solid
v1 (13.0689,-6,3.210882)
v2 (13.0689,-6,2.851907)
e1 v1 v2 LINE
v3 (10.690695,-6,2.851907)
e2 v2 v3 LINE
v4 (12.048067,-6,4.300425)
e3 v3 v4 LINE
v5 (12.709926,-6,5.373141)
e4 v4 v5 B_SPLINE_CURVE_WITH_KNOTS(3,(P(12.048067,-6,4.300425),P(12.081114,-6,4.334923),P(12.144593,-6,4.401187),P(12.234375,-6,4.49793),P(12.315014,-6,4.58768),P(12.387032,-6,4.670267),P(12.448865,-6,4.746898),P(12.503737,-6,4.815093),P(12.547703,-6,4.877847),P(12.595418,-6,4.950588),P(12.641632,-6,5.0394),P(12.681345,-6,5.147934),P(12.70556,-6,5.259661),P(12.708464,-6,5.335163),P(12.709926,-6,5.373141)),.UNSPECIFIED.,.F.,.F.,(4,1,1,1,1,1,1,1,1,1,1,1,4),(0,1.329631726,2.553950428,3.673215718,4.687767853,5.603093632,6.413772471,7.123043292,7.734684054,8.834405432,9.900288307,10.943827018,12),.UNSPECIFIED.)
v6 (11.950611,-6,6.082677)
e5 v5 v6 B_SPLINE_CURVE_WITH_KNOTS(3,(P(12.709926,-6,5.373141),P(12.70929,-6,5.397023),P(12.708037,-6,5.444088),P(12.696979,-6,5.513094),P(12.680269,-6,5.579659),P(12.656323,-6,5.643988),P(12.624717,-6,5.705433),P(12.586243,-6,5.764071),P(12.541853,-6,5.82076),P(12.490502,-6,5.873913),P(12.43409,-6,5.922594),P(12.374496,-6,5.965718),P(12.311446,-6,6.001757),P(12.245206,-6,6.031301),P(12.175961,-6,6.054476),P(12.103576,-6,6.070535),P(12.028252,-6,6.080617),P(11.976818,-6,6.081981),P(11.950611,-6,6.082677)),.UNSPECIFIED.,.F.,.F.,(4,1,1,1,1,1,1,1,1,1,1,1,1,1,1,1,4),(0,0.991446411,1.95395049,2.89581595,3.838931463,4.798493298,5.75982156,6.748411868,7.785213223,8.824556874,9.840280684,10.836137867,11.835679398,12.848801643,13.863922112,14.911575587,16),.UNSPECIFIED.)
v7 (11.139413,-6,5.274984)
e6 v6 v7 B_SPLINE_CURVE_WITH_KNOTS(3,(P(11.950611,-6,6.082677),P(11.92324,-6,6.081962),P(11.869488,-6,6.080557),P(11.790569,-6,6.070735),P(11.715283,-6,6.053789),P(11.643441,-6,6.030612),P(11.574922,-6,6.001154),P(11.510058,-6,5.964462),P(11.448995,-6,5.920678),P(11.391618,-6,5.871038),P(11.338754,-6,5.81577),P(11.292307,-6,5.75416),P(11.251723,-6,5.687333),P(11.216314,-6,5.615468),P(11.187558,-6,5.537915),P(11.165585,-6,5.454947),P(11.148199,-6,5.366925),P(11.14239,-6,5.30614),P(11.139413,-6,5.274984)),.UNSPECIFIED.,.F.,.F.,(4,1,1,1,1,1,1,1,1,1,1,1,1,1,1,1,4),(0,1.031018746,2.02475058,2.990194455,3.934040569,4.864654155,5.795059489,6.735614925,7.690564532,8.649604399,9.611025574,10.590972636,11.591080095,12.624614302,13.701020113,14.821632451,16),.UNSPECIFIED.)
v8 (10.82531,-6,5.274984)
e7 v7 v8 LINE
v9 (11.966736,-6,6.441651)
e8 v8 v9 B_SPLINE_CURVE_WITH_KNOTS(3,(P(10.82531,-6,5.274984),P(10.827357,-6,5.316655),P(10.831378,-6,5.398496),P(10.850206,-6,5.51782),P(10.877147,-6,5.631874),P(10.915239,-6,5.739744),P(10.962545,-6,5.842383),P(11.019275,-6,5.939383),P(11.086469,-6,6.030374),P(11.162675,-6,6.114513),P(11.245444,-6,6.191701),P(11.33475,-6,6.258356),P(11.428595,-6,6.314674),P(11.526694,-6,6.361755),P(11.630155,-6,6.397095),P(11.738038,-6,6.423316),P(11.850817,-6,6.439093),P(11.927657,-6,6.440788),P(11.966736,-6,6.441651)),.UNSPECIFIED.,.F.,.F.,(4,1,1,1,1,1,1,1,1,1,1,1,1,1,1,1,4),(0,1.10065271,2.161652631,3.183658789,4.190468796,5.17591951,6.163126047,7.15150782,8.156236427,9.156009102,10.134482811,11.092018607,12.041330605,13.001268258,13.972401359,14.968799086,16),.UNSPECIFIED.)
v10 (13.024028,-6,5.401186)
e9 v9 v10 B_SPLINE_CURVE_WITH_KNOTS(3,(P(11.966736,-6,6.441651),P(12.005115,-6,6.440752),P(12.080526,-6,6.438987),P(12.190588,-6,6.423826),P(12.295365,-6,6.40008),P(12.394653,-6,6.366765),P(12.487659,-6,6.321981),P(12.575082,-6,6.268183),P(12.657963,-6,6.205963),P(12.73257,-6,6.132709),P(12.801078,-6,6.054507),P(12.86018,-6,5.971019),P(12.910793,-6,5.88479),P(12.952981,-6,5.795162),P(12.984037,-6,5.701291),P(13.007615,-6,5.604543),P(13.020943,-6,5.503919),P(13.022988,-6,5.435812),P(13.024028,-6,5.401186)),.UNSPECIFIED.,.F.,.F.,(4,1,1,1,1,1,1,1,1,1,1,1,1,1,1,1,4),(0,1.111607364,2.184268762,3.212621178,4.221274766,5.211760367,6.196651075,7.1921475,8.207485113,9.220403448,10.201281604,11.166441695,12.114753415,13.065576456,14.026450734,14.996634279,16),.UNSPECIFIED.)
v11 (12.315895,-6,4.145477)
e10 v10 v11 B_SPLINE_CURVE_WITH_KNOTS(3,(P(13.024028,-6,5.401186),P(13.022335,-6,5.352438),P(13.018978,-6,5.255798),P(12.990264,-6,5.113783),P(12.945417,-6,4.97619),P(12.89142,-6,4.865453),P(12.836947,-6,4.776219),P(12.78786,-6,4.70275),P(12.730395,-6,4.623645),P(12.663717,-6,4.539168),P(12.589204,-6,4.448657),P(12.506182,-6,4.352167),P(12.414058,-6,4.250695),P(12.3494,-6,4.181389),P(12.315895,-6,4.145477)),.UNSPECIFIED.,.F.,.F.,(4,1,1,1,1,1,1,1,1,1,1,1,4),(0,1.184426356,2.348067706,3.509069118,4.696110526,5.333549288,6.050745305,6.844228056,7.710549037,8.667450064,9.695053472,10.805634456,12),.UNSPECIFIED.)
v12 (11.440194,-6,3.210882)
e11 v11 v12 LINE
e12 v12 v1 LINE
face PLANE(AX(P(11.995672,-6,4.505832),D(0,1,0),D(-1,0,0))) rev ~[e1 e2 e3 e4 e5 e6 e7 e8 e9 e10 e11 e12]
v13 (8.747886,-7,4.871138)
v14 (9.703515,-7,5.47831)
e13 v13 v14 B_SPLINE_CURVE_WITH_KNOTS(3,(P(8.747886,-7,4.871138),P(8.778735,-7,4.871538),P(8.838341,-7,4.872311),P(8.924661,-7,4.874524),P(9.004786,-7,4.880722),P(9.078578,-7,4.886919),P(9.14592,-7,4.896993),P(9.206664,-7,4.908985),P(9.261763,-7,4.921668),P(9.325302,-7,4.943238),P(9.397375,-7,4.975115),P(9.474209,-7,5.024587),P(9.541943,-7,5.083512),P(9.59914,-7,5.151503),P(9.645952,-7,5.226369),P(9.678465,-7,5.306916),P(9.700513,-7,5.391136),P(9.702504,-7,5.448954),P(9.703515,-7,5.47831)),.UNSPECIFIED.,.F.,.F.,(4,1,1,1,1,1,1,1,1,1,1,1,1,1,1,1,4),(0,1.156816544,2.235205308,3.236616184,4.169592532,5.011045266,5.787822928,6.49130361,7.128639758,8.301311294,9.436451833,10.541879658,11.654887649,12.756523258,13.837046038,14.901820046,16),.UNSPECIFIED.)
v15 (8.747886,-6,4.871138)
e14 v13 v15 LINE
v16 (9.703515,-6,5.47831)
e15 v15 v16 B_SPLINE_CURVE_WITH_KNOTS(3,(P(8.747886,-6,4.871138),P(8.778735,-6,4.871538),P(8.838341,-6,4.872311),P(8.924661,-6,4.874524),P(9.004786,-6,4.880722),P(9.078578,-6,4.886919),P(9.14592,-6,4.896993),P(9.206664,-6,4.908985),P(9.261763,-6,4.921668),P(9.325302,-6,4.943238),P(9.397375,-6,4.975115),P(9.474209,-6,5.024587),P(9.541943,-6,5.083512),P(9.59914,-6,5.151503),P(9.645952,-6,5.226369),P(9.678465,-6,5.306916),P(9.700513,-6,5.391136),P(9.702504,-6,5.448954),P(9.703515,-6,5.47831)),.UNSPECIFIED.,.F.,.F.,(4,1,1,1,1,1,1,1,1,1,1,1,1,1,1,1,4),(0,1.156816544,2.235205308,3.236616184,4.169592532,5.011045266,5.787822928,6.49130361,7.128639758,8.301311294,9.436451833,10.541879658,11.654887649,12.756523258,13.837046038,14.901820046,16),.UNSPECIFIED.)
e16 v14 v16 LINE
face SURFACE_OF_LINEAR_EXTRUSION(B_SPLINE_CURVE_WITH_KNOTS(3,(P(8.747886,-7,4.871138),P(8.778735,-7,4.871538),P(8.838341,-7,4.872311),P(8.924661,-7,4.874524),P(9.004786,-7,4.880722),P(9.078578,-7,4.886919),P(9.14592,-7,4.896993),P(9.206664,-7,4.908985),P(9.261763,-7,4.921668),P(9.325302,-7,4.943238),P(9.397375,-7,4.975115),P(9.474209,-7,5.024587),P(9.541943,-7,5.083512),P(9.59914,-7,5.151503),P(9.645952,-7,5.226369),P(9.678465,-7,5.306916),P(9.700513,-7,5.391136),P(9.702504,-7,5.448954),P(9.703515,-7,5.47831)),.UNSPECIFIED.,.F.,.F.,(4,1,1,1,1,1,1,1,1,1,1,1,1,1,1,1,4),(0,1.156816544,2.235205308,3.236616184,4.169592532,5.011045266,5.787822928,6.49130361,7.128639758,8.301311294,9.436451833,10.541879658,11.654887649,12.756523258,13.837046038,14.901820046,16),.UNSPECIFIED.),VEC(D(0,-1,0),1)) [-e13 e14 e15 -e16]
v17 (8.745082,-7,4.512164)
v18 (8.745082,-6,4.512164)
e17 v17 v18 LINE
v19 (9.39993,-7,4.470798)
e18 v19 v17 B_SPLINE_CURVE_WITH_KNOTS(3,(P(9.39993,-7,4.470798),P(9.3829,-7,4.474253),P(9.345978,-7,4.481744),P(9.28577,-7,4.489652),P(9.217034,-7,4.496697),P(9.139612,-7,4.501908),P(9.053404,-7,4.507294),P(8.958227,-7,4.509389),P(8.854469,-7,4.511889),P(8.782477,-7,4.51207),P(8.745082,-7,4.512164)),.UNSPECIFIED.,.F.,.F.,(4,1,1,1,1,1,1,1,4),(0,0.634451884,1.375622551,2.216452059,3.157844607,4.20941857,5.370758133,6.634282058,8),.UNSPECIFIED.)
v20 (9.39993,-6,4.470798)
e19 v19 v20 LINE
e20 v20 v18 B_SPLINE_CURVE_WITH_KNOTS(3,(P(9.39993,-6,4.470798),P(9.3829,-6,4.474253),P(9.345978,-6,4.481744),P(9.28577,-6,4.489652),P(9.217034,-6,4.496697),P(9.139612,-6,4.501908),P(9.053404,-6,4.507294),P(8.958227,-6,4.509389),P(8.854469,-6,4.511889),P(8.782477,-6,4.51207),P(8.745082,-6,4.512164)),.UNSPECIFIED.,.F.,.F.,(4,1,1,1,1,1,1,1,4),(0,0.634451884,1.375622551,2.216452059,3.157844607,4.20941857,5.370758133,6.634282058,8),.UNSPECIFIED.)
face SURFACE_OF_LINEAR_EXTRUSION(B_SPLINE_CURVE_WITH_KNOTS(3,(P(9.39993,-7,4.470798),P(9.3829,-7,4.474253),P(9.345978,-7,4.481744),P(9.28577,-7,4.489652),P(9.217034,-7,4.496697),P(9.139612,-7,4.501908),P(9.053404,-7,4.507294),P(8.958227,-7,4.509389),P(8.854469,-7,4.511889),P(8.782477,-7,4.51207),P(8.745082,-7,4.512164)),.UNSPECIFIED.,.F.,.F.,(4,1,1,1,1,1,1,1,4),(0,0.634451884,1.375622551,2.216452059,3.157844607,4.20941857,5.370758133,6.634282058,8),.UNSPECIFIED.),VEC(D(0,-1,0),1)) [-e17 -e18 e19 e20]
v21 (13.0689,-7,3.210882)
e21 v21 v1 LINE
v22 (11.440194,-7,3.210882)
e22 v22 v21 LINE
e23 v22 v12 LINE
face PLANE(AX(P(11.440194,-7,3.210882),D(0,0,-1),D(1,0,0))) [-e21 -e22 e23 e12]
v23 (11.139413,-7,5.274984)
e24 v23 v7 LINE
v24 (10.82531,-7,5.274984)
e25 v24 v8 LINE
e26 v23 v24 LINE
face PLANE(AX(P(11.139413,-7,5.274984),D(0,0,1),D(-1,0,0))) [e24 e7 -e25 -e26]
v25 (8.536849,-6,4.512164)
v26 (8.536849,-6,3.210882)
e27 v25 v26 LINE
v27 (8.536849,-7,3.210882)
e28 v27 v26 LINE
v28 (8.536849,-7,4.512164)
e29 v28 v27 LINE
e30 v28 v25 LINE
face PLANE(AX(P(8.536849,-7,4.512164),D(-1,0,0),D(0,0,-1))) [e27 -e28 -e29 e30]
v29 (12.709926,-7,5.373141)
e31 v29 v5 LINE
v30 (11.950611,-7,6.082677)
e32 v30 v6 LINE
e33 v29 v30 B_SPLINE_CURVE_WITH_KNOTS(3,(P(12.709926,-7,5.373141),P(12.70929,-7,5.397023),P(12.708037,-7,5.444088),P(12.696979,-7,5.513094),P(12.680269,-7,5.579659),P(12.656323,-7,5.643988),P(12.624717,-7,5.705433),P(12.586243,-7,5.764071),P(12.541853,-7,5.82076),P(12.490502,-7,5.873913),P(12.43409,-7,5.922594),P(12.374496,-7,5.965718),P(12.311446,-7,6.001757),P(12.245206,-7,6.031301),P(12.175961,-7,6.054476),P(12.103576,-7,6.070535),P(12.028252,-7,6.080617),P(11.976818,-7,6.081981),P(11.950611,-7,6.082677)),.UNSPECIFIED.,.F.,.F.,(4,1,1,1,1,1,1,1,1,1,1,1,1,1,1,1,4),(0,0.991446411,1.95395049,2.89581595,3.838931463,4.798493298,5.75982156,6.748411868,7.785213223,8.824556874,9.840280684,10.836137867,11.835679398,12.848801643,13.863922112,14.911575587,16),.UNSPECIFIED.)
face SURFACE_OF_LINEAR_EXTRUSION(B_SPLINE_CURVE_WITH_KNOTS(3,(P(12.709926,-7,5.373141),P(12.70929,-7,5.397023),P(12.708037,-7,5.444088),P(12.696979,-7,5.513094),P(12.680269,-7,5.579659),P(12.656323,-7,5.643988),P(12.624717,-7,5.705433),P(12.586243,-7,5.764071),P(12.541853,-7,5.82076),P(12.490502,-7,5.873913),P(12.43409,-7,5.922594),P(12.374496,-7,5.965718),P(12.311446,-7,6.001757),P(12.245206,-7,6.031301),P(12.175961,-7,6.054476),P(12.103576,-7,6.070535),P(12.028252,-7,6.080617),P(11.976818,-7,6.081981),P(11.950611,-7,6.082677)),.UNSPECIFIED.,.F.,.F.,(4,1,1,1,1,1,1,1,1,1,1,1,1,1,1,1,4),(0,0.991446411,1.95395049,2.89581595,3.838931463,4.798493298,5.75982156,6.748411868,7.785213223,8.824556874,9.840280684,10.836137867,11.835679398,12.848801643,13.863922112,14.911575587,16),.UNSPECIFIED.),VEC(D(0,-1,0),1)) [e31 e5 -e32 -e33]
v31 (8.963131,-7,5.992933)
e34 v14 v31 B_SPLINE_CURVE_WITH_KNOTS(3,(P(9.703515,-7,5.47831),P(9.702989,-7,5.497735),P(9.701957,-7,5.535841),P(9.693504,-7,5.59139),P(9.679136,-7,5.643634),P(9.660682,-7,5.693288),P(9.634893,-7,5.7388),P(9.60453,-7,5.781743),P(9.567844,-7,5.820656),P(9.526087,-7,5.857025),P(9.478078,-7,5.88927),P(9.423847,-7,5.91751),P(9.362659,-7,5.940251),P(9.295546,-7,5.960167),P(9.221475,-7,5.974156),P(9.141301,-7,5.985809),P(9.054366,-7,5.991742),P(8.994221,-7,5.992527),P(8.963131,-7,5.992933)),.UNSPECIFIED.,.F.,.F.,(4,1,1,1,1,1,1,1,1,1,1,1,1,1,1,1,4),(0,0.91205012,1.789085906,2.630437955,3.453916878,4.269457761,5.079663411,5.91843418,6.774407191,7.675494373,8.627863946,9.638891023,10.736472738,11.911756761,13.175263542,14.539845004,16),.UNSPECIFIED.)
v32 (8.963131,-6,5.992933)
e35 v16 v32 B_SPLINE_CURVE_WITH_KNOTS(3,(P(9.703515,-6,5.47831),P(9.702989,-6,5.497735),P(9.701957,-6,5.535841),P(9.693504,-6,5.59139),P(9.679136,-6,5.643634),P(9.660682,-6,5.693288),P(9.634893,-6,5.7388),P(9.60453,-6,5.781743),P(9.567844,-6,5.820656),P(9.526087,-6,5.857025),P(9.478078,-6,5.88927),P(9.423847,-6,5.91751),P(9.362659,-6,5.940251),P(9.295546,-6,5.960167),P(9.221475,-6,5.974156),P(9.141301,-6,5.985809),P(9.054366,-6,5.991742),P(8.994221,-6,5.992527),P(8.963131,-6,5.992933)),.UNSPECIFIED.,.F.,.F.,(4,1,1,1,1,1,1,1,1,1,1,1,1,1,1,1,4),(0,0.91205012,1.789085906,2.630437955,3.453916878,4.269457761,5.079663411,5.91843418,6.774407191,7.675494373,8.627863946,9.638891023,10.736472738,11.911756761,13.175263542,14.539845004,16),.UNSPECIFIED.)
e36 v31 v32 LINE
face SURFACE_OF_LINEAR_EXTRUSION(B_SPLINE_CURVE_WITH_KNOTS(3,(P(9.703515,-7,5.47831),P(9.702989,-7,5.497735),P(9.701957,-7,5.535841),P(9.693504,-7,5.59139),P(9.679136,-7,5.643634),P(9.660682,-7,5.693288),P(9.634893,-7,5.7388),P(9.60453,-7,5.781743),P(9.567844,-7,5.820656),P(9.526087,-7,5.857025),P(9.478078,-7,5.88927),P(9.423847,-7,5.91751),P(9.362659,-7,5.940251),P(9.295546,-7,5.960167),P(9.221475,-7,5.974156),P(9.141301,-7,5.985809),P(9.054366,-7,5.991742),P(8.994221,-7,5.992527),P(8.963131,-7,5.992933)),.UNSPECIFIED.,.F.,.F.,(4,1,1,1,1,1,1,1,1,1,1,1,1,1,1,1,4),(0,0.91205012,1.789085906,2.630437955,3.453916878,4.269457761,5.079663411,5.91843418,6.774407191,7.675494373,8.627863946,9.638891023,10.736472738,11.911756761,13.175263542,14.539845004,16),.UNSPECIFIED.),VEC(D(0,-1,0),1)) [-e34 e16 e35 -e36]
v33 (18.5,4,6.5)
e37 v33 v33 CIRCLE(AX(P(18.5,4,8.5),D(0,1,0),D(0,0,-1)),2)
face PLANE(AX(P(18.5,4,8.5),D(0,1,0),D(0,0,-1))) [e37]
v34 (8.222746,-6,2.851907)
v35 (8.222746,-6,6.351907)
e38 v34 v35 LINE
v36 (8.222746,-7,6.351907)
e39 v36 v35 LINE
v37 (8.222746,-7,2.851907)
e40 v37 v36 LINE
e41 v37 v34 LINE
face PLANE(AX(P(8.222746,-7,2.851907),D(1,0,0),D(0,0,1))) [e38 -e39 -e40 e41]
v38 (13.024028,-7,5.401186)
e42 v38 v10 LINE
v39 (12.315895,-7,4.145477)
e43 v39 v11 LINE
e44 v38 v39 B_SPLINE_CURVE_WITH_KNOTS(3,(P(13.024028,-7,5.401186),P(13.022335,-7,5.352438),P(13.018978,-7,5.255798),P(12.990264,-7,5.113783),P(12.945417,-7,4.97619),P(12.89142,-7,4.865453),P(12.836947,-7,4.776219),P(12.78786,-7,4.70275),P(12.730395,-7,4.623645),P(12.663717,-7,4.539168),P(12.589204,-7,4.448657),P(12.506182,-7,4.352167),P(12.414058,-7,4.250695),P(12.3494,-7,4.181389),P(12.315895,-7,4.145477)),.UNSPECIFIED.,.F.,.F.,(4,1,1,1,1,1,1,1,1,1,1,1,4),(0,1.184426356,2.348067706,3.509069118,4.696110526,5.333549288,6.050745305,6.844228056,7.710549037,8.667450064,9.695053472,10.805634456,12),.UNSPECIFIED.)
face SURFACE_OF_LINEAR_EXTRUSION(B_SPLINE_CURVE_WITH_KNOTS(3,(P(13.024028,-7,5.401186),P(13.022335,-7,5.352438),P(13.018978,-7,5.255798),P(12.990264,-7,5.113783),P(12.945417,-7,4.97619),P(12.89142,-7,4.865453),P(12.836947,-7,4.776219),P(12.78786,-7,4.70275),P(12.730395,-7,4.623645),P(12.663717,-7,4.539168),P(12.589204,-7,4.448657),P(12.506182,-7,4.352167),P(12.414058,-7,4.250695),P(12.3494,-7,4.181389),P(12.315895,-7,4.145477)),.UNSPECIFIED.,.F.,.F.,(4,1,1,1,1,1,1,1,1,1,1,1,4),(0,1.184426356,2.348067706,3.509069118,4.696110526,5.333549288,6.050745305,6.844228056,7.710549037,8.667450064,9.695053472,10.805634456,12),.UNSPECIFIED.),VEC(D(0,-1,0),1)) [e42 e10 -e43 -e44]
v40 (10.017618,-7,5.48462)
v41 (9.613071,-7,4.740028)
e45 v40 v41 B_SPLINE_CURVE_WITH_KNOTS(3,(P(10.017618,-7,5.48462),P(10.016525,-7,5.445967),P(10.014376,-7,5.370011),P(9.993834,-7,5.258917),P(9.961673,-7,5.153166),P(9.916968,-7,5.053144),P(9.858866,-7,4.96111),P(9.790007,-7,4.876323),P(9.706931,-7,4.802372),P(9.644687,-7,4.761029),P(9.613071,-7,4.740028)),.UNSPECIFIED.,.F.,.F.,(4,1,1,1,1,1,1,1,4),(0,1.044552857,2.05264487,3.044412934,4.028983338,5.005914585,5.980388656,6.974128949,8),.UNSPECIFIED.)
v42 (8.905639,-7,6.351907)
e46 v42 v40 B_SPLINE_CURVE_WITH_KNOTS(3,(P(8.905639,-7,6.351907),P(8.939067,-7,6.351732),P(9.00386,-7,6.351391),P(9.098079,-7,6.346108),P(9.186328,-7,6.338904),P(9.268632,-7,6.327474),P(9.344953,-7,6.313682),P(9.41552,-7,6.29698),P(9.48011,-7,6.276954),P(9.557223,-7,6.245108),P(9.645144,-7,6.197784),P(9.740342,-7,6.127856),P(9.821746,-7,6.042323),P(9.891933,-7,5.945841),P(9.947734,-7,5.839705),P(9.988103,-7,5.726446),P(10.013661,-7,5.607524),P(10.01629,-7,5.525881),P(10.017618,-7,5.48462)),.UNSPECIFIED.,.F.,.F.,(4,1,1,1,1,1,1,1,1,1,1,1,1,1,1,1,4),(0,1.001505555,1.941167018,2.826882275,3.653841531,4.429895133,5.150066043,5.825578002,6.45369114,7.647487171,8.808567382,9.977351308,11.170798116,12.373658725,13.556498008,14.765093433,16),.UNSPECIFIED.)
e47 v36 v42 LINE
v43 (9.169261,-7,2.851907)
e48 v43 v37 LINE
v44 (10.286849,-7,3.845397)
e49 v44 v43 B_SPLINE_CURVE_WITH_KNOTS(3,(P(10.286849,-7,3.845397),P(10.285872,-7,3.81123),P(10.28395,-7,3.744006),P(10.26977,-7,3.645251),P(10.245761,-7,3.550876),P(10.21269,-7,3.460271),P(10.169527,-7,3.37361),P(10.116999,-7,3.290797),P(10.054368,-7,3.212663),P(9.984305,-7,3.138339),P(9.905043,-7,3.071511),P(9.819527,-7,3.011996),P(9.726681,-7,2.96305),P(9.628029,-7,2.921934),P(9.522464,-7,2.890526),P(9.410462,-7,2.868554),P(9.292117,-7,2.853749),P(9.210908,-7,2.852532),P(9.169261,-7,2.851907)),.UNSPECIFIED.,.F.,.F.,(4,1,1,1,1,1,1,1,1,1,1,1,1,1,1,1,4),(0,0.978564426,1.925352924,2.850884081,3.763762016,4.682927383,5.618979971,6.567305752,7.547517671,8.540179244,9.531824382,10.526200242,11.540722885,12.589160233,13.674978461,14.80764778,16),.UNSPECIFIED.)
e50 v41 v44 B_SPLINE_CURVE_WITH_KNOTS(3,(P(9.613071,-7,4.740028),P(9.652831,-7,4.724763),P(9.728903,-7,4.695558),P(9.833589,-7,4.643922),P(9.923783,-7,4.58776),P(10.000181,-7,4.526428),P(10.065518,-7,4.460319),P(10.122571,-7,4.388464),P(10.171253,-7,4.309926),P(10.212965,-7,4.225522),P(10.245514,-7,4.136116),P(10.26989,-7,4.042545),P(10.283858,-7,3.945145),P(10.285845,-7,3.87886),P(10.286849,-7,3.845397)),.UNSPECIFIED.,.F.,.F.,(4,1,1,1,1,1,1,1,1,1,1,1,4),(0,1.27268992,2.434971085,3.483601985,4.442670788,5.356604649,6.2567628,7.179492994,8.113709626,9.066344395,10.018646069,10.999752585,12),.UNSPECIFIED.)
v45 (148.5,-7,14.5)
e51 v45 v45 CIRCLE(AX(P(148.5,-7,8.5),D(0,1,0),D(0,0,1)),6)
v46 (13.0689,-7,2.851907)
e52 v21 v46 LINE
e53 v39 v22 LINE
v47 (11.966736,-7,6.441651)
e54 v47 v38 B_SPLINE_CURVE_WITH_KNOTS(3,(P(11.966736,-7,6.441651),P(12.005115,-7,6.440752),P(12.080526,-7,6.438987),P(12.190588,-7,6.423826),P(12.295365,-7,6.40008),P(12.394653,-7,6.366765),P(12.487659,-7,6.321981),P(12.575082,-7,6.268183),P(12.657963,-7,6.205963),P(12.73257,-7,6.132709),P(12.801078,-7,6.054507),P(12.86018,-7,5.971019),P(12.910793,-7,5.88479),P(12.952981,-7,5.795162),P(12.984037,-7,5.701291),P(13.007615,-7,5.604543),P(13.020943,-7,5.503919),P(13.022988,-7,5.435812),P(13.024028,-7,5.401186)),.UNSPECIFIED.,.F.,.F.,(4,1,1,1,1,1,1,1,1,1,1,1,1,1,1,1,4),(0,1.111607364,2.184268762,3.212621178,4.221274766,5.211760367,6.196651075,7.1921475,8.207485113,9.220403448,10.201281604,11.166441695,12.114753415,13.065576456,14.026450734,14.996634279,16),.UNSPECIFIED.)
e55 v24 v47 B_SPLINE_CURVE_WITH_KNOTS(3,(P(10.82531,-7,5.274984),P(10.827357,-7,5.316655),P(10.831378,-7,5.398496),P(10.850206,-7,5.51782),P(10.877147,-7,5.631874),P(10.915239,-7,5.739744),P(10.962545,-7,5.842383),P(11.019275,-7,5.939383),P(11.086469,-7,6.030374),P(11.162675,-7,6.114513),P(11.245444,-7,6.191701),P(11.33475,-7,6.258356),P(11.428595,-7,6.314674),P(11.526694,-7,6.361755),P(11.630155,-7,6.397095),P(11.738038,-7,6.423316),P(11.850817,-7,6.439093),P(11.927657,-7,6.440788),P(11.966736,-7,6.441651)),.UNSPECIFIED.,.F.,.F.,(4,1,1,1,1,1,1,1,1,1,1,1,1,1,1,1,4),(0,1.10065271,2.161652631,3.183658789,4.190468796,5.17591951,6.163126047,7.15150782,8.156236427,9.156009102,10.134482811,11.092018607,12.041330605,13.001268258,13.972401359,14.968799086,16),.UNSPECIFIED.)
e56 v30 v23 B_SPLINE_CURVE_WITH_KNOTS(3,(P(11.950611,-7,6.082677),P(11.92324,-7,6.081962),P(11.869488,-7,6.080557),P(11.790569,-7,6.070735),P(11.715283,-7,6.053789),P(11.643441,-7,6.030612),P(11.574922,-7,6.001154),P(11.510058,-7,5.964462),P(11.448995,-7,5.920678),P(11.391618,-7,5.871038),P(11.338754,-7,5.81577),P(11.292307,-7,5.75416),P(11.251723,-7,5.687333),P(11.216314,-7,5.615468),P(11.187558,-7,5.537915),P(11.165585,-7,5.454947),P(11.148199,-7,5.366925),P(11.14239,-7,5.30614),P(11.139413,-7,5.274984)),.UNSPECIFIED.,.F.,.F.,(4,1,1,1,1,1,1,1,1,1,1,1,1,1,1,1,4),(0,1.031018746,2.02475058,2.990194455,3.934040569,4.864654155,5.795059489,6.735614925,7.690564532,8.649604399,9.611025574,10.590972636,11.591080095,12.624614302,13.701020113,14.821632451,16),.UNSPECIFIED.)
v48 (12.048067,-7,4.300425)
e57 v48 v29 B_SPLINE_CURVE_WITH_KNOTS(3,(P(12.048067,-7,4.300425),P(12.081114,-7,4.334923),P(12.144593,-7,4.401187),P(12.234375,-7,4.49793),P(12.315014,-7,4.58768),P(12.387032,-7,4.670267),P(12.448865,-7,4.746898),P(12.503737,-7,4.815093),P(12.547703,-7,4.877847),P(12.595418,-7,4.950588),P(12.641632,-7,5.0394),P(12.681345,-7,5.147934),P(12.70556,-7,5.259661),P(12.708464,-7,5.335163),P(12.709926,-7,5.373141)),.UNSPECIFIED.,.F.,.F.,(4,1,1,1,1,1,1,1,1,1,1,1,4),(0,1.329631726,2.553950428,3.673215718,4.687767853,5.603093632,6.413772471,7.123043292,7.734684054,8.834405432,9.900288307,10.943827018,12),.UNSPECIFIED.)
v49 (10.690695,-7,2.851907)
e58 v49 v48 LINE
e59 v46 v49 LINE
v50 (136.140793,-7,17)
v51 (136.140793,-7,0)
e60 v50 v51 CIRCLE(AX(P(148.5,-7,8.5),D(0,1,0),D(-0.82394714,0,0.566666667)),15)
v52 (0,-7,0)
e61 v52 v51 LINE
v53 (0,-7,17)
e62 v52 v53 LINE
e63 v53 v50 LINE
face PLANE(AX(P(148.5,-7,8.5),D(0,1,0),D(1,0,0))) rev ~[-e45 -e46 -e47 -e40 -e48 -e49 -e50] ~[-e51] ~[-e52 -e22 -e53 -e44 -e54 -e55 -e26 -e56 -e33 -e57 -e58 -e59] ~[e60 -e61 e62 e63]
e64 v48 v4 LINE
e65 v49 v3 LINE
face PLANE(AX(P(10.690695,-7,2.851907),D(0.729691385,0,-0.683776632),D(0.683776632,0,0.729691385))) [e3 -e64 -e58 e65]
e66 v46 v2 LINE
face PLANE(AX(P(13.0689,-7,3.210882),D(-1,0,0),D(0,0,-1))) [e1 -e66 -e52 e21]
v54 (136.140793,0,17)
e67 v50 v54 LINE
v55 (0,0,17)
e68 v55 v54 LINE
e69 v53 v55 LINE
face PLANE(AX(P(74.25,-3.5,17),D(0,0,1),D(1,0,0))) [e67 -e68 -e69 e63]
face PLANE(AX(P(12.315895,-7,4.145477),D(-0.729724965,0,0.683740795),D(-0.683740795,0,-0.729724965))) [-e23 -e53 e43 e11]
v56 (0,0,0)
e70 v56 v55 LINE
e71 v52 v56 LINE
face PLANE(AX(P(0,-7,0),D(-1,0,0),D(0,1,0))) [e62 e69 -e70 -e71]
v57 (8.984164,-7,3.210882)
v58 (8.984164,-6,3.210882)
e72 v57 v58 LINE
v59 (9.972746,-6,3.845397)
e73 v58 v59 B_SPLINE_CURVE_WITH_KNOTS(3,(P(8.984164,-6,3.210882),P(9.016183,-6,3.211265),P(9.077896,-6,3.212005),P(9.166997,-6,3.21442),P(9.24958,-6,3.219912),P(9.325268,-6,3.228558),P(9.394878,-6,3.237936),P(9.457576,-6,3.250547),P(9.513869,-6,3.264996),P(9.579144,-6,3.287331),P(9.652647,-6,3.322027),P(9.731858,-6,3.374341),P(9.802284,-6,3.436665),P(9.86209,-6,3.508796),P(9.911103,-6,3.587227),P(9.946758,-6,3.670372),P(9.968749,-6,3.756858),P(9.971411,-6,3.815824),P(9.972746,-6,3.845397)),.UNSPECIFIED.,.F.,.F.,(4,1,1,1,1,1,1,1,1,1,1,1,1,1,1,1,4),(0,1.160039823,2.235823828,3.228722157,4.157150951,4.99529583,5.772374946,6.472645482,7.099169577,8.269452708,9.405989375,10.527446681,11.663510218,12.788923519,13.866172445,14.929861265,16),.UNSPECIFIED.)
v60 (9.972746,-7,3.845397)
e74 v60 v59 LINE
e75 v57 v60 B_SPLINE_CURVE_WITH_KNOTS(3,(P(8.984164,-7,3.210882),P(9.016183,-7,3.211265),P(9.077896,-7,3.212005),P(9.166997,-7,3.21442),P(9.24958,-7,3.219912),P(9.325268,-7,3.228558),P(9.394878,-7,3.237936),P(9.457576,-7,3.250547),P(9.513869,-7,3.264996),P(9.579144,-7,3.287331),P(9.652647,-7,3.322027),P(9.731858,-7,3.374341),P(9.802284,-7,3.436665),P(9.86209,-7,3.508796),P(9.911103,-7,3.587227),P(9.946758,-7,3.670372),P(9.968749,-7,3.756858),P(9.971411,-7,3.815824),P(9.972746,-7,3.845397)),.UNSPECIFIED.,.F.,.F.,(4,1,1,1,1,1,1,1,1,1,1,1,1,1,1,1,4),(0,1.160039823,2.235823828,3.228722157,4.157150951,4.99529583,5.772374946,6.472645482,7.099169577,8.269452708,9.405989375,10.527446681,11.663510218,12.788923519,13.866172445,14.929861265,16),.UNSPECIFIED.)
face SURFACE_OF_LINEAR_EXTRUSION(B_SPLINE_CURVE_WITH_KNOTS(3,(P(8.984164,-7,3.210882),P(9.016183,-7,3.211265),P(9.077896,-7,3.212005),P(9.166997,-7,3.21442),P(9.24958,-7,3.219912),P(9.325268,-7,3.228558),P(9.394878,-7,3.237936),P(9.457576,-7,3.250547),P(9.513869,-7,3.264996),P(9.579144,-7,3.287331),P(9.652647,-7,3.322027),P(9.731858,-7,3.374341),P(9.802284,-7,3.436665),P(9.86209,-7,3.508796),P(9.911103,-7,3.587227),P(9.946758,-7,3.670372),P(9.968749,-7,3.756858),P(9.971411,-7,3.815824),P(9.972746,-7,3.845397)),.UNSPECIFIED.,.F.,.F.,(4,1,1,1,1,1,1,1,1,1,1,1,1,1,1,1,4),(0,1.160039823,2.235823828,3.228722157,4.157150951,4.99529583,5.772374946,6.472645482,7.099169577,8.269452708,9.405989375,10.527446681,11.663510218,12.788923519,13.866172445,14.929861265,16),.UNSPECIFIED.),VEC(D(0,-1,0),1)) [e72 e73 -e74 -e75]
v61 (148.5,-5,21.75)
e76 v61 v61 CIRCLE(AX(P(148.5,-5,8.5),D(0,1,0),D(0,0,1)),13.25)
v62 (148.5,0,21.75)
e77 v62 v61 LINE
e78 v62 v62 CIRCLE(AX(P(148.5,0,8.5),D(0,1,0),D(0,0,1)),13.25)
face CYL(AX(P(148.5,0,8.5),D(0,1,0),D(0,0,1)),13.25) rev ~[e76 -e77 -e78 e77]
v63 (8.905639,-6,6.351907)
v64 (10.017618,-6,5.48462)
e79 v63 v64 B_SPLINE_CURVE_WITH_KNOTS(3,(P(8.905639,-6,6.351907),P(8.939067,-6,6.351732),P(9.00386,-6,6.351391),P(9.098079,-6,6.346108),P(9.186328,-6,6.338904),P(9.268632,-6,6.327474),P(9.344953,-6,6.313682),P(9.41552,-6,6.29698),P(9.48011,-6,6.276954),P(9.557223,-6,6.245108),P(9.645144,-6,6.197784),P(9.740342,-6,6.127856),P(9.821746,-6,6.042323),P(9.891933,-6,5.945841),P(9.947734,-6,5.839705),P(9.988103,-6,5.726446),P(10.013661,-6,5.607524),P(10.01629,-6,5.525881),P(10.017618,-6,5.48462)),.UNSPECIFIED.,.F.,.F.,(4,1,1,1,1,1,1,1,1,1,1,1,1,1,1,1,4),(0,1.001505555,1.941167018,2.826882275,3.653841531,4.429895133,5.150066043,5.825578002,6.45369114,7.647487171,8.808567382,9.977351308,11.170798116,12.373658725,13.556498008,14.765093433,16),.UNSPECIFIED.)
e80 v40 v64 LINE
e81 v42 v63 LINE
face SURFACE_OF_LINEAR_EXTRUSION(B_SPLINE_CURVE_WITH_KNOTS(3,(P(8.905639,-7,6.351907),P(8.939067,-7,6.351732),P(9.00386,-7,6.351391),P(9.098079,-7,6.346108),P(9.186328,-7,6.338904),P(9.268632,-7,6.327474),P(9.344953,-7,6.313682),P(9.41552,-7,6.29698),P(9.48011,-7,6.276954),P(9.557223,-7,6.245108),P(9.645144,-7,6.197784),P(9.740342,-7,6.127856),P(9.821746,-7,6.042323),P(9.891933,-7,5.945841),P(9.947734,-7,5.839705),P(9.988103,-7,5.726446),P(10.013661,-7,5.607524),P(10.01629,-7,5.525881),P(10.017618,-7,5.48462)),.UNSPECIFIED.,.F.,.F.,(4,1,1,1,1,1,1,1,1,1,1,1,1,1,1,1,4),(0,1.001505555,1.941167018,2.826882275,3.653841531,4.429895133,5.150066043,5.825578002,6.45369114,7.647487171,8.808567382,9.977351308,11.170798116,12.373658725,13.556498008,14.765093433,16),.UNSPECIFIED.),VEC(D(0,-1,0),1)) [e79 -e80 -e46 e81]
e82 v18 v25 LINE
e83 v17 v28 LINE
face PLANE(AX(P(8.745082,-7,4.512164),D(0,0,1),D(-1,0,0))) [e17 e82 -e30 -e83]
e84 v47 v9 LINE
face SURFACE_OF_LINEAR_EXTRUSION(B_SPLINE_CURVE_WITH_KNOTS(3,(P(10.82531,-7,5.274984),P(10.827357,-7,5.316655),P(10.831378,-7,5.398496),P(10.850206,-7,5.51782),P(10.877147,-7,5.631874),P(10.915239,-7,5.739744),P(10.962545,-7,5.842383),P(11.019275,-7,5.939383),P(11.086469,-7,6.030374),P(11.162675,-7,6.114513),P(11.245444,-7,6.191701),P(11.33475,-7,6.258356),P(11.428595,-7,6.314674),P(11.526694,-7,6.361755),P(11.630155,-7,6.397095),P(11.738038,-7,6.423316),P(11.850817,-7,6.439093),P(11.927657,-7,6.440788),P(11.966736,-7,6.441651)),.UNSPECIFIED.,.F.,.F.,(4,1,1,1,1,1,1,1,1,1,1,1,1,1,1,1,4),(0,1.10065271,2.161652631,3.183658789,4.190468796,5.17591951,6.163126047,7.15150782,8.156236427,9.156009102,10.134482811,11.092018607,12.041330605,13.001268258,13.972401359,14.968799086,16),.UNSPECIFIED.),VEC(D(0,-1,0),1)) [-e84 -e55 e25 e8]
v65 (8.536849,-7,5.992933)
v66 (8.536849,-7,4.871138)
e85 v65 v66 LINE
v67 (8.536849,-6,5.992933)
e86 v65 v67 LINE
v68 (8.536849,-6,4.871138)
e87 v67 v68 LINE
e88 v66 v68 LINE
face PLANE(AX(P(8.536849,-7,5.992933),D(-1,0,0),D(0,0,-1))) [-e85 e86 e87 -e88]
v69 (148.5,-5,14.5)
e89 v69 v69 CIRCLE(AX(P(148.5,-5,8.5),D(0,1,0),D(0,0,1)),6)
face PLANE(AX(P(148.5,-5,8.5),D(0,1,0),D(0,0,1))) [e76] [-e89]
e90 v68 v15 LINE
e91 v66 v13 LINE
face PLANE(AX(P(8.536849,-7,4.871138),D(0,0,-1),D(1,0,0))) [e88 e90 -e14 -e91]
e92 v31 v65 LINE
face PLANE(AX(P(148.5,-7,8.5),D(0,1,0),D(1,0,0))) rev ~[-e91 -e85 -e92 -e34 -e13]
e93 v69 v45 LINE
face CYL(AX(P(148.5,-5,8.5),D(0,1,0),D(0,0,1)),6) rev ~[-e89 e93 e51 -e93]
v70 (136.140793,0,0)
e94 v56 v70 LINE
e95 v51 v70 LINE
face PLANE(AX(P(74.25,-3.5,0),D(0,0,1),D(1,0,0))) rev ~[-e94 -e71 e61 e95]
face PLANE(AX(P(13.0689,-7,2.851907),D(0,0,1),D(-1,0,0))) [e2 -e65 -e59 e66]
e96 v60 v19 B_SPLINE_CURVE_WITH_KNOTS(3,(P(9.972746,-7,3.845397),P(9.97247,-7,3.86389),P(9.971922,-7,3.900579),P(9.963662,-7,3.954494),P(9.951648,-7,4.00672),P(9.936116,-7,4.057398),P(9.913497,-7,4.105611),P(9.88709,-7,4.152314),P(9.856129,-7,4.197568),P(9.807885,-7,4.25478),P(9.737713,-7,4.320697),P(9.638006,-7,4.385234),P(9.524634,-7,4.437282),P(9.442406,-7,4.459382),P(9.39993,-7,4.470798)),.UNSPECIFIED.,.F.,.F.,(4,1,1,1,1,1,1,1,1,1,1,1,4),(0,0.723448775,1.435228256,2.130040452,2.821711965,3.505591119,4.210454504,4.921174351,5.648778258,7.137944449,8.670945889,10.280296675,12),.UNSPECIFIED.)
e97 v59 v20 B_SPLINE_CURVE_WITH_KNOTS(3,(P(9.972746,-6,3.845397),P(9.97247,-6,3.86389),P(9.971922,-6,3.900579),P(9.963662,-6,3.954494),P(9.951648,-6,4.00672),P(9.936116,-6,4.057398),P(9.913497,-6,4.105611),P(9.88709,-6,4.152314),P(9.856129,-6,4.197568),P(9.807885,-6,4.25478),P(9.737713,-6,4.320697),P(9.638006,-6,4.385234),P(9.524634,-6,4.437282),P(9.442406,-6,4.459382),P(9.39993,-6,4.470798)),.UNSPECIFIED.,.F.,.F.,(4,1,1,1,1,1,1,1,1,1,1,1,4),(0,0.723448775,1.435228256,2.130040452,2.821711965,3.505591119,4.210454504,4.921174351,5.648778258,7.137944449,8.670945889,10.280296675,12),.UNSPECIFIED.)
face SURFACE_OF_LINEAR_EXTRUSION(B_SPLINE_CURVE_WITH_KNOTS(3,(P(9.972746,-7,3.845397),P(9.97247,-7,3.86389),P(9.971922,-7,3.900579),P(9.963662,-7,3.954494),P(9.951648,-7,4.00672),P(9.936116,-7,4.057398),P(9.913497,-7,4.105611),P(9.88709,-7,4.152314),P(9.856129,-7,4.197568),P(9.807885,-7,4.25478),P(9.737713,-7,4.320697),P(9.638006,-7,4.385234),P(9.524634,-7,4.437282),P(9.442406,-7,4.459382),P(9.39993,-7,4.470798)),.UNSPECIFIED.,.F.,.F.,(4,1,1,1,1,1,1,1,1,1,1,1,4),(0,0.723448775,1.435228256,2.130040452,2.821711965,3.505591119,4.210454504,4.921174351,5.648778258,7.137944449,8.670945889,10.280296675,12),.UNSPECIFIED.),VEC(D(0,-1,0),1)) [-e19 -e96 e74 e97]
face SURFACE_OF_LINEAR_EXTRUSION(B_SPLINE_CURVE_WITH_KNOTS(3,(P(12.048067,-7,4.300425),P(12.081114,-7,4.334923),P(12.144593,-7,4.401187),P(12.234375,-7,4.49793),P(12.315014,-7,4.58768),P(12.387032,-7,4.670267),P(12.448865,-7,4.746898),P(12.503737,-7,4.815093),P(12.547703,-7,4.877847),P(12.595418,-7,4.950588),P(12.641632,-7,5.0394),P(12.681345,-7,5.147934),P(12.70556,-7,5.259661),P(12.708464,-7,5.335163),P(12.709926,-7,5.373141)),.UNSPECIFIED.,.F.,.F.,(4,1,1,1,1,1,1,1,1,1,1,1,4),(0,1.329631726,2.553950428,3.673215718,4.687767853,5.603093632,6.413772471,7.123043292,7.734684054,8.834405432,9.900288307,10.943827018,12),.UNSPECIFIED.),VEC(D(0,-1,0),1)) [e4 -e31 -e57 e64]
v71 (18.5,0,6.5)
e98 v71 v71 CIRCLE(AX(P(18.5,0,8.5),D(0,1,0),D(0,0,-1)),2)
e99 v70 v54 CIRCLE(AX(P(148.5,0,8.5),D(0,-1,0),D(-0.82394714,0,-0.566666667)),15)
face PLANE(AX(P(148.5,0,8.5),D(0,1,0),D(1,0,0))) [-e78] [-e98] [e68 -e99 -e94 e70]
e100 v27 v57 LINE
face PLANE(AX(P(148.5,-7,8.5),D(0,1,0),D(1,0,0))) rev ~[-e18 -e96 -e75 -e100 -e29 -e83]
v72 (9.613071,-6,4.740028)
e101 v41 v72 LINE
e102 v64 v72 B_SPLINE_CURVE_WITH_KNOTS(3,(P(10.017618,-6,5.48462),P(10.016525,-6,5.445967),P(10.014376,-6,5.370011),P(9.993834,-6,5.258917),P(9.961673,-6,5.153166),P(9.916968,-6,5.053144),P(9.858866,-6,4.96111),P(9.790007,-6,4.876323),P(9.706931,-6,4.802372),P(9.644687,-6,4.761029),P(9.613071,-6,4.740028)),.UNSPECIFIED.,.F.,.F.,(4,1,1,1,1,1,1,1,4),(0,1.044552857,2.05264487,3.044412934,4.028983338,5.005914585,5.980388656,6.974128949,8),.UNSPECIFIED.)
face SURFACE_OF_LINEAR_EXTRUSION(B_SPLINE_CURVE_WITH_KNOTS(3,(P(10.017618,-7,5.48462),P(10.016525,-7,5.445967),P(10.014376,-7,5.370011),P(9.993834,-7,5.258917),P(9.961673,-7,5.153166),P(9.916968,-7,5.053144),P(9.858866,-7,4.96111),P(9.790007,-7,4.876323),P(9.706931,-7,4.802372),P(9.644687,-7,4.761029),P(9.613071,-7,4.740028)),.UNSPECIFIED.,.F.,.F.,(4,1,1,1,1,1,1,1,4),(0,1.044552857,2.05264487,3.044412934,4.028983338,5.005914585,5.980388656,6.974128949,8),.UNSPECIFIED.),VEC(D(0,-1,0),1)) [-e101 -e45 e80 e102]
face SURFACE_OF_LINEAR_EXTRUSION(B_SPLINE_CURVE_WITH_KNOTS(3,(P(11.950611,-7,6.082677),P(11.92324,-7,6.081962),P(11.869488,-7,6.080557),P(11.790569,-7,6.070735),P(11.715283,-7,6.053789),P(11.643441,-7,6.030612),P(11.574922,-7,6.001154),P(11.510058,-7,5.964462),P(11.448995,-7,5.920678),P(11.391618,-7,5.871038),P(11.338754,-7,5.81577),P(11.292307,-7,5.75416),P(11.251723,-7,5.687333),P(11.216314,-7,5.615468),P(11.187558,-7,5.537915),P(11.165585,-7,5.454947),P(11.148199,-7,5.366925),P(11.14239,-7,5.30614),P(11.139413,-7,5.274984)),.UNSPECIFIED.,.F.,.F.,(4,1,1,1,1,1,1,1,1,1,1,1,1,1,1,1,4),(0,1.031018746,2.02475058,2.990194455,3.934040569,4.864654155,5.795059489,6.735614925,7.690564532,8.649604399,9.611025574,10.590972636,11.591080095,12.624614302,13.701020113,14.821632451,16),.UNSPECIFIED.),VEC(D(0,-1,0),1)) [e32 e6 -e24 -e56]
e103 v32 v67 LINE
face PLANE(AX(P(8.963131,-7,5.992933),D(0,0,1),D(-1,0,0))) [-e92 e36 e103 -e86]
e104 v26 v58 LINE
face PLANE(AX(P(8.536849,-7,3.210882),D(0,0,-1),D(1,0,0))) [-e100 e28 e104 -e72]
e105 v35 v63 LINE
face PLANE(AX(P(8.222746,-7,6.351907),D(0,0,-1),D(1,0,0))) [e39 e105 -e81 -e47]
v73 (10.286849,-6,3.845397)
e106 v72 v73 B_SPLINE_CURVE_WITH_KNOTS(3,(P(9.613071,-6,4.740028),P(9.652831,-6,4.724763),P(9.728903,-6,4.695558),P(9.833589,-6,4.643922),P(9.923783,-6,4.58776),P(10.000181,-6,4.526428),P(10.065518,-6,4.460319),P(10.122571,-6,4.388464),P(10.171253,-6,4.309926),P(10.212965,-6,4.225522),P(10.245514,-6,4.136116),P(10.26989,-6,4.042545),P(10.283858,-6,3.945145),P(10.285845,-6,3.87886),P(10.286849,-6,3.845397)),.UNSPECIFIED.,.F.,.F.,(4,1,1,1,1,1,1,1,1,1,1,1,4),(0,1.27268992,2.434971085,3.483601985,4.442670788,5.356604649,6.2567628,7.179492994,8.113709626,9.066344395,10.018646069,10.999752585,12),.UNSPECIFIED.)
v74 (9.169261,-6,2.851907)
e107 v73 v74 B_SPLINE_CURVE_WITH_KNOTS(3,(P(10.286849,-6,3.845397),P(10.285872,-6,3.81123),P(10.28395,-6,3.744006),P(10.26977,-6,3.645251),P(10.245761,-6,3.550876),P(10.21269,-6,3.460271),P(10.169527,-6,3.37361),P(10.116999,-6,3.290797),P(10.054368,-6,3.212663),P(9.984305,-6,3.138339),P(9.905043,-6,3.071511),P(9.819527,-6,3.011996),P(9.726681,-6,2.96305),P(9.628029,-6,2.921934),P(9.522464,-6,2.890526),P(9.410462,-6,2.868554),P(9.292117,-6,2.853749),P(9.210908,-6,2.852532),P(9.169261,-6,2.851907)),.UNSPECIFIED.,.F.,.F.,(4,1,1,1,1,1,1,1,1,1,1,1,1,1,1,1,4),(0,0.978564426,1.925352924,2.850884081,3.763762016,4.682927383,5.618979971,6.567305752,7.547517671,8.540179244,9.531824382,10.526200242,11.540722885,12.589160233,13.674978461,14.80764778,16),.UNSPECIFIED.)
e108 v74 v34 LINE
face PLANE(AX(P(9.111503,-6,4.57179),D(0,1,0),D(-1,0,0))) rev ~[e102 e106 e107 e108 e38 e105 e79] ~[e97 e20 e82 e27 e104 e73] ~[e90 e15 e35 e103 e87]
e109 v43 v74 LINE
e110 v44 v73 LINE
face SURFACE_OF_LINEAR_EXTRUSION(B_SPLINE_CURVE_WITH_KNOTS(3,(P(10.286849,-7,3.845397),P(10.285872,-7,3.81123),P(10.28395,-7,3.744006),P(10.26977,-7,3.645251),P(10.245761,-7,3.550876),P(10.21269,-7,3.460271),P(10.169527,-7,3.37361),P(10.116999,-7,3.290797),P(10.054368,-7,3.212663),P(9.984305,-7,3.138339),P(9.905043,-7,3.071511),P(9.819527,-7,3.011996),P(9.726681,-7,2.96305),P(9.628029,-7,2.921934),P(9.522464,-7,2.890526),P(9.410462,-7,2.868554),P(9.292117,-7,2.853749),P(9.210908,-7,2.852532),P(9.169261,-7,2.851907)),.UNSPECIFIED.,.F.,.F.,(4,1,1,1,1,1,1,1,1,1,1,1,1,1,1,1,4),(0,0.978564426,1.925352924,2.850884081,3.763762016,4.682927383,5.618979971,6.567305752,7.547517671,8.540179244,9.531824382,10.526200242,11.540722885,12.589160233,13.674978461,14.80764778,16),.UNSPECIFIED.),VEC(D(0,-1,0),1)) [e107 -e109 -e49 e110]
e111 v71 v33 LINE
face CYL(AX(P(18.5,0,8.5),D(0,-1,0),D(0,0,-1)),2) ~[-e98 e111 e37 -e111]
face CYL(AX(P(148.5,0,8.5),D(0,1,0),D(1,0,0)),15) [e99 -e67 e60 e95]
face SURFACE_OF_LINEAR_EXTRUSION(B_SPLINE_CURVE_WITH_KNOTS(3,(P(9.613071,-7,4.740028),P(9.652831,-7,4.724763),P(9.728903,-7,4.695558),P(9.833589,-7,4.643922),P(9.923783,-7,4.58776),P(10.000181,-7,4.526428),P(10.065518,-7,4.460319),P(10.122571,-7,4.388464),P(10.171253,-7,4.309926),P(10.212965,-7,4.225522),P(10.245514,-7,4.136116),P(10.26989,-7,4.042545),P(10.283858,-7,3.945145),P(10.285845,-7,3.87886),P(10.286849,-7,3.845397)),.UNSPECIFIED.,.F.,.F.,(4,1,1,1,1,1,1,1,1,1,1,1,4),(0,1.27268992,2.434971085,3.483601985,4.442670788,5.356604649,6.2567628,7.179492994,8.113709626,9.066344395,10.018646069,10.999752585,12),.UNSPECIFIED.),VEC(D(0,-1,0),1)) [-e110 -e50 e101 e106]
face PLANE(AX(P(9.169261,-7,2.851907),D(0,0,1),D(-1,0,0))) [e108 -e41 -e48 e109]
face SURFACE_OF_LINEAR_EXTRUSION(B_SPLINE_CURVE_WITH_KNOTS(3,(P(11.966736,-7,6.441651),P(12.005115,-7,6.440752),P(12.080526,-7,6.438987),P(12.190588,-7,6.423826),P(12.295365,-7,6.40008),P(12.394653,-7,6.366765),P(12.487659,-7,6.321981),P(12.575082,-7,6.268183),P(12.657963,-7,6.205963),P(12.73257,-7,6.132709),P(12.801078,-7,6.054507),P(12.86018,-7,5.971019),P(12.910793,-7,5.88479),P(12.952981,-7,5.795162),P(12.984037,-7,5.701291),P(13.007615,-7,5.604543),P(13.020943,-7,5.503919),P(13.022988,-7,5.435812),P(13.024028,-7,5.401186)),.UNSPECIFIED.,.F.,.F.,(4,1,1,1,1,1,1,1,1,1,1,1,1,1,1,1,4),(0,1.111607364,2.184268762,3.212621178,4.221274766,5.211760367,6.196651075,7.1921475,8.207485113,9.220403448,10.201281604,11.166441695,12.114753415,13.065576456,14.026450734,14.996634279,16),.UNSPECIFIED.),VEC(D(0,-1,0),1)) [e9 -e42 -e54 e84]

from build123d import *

# Parameters (mm, degrees)
SKETCH_3_W          = 148.5
SKETCH_3_H          = 7
EXTRUDE_1_DEPTH     = 17
SKETCH_4_R          = 15
CUT_EXTRUDE_3_DEPTH = 150.633719462
SKETCH_6_R          = 15
EXTRUDE_2_DEPTH     = 7
SKETCH_7_R          = 13.25
CUT_EXTRUDE_4_DEPTH = 5
SKETCH_8_R          = 6
CUT_EXTRUDE_5_DEPTH = 166.255862226
SKETCH_9_R          = 2
EXTRUDE_3_DEPTH     = 4
CUT_EXTRUDE_7_DEPTH = 1


with BuildPart() as part:
    # ｽｹｯﾁ3 → ﾎﾞｽ - 押し出し1 (new body)
    with BuildSketch(Plane.XY):
        with Locations((74.25, -3.5)):
            Rectangle(SKETCH_3_W, SKETCH_3_H)
    extrude(amount=EXTRUDE_1_DEPTH)

    # ｽｹｯﾁ4 → ｶｯﾄ - 押し出し3 (cut, through all)
    with BuildSketch(Plane(origin=(0, 0, 0), x_dir=(1, 0, 0), z_dir=(0, 1, 0))):
        with Locations((148.5, -8.5)):
            Circle(SKETCH_4_R)
    extrude(amount=-CUT_EXTRUDE_3_DEPTH, mode=Mode.SUBTRACT)

    # ｽｹｯﾁ6 → ﾎﾞｽ - 押し出し2 (add)
    with BuildSketch(Plane(origin=(0, 0, 0), x_dir=(1, 0, 0), z_dir=(0, 1, 0))):
        with Locations((148.5, -8.5)):
            Circle(SKETCH_6_R)
    extrude(amount=-EXTRUDE_2_DEPTH)

    # ｽｹｯﾁ7 → ｶｯﾄ - 押し出し4 (cut)
    with BuildSketch(Plane(origin=(0, 0, 0), x_dir=(1, 0, 0), z_dir=(0, 1, 0))):
        with Locations(Location((148.5, -8.5, 0), (0, 0, 270))):
            Circle(SKETCH_7_R)
    extrude(amount=-CUT_EXTRUDE_4_DEPTH, mode=Mode.SUBTRACT)

    # ｽｹｯﾁ8 → ｶｯﾄ - 押し出し5 (cut, through all)
    with BuildSketch(Plane(origin=(0, -5, 0), x_dir=(1, 0, 0), z_dir=(0, 1, 0))):
        with Locations(Location((148.5, -8.5, 0), (0, 0, 270))):
            Circle(SKETCH_8_R)
    extrude(amount=-CUT_EXTRUDE_5_DEPTH, mode=Mode.SUBTRACT)

    # ｽｹｯﾁ9 → ﾎﾞｽ - 押し出し3 (add)
    with BuildSketch(Plane(origin=(0, 0, 0), x_dir=(1, 0, 0), z_dir=(0, 1, 0))):
        with Locations(Location((18.5, -8.5, 0), (0, 0, 90))):
            Circle(SKETCH_9_R)
    extrude(amount=EXTRUDE_3_DEPTH)

    # ｽｹｯﾁ12 → ｶｯﾄ - 押し出し7 (cut)
    # profile 1 of 2: a face of its own
    with BuildSketch(Plane.XZ.offset(7)):
        with BuildLine():
            Line((8.222746092, 6.351907356), (8.90563872, 6.351907356))
            add(Edge.make_bspline(
                [(8.90563872, 6.351907356), (8.939067198, 6.351731606), (9.003859909, 6.351390958), (9.098079351, 6.346107827), (9.186328161, 6.338904157), (9.268631934, 6.327474064), (9.344952636, 6.313682287), (9.415520273, 6.296980471), (9.480110445, 6.276953857), (9.557223182, 6.245107576), (9.645143843, 6.197784408), (9.740342235, 6.127855843), (9.821746475, 6.042323379), (9.891932792, 5.945840724), (9.947733912, 5.839704952), (9.988103209, 5.726445764), (10.013661084, 5.607524022), (10.016289519, 5.525880844), (10.017617887, 5.484619696)],
                knots=[0, 0, 0, 0, 1.001505555, 1.941167018, 2.826882275, 3.653841531, 4.429895133, 5.150066043, 5.825578002, 6.45369114, 7.647487171, 8.808567382, 9.977351308, 11.170798116, 12.373658725, 13.556498008, 14.765093433, 16, 16, 16, 16], degree=3))
            add(Edge.make_bspline(
                [(10.017617887, 5.484619696), (10.016524668, 5.44596714), (10.014376391, 5.370011223), (9.993833632, 5.258917114), (9.961672963, 5.153165895), (9.916967714, 5.05314351), (9.858865718, 4.961109897), (9.790007399, 4.876322631), (9.706930597, 4.802371574), (9.644687357, 4.761028671), (9.613070611, 4.74002835)],
                knots=[0, 0, 0, 0, 1.044552857, 2.05264487, 3.044412934, 4.028983338, 5.005914585, 5.980388656, 6.974128949, 8, 8, 8, 8], degree=3))
            add(Edge.make_bspline(
                [(9.613070611, 4.74002835), (9.652831039, 4.724763351), (9.728902586, 4.695557627), (9.833588599, 4.643922163), (9.923783444, 4.587760052), (10.00018059, 4.526428202), (10.065518245, 4.460319391), (10.122571186, 4.388464277), (10.17125256, 4.309925519), (10.212965484, 4.225521984), (10.24551424, 4.136115515), (10.269890144, 4.042544739), (10.283857593, 3.945145184), (10.285845235, 3.878859805), (10.286848656, 3.84539694)],
                knots=[0, 0, 0, 0, 1.27268992, 2.434971085, 3.483601985, 4.442670788, 5.356604649, 6.2567628, 7.179492994, 8.113709626, 9.066344395, 10.018646069, 10.999752585, 12, 12, 12, 12], degree=3))
            add(Edge.make_bspline(
                [(10.286848656, 3.84539694), (10.28587181, 3.811230068), (10.283949838, 3.744005789), (10.269769866, 3.645250655), (10.245760759, 3.550875708), (10.212689613, 3.460270526), (10.169527298, 3.373610391), (10.116999334, 3.290797127), (10.05436777, 3.212662796), (9.984304901, 3.138339173), (9.905042756, 3.071511386), (9.819527001, 3.011995679), (9.726680681, 2.963049617), (9.628028687, 2.921933596), (9.522464371, 2.890526397), (9.410461764, 2.868553823), (9.292117462, 2.853748786), (9.210907711, 2.852531581), (9.169260515, 2.851907356)],
                knots=[0, 0, 0, 0, 0.978564426, 1.925352924, 2.850884081, 3.763762016, 4.682927383, 5.618979971, 6.567305752, 7.547517671, 8.540179244, 9.531824382, 10.526200242, 11.540722885, 12.589160233, 13.674978461, 14.80764778, 16, 16, 16, 16], degree=3))
            Line((9.169260515, 2.851907356), (8.222746092, 2.851907356))
            Line((8.222746092, 2.851907356), (8.222746092, 6.351907356))
        make_face()
        with BuildLine():
            Line((8.536848656, 5.992932997), (8.536848656, 4.871138126))
            Line((8.536848656, 4.871138126), (8.747886316, 4.871138126))
            add(Edge.make_bspline(
                [(8.747886316, 4.871138126), (8.778735112, 4.871538049), (8.838341271, 4.872310781), (8.924661168, 4.874524298), (9.004786186, 4.880722342), (9.078578019, 4.886918604), (9.145920463, 4.896993191), (9.206664324, 4.908985314), (9.261762921, 4.92166822), (9.325302467, 4.943237706), (9.397375415, 4.975115382), (9.474208519, 5.024587218), (9.541942989, 5.083511571), (9.599140177, 5.151502533), (9.645951647, 5.226368719), (9.678465362, 5.306915599), (9.700512647, 5.391135731), (9.702504178, 5.448953984), (9.703515323, 5.4783096)],
                knots=[0, 0, 0, 0, 1.156816544, 2.235205308, 3.236616184, 4.169592532, 5.011045266, 5.787822928, 6.49130361, 7.128639758, 8.301311294, 9.436451833, 10.541879658, 11.654887649, 12.756523258, 13.837046038, 14.901820046, 16, 16, 16, 16], degree=3))
            add(Edge.make_bspline(
                [(9.703515323, 5.4783096), (9.702989143, 5.497735371), (9.701956983, 5.535841144), (9.69350368, 5.591390498), (9.679136106, 5.64363425), (9.660681812, 5.693288361), (9.634893124, 5.738800211), (9.60452966, 5.781743406), (9.56784397, 5.820655525), (9.526086657, 5.857025023), (9.478078035, 5.889269551), (9.423846743, 5.917510314), (9.362659066, 5.940251091), (9.295546211, 5.960167243), (9.221475123, 5.974155537), (9.14130057, 5.985808925), (9.054365851, 5.991741667), (8.994220748, 5.99252703), (8.963130707, 5.992932997)],
                knots=[0, 0, 0, 0, 0.91205012, 1.789085906, 2.630437955, 3.453916878, 4.269457761, 5.079663411, 5.91843418, 6.774407191, 7.675494373, 8.627863946, 9.638891023, 10.736472738, 11.911756761, 13.175263542, 14.539845004, 16, 16, 16, 16], degree=3))
            Line((8.963130707, 5.992932997), (8.536848656, 5.992932997))
        make_face(mode=Mode.SUBTRACT)
        with BuildLine():
            Line((8.536848656, 4.512163767), (8.536848656, 3.210881715))
            Line((8.536848656, 3.210881715), (8.984164361, 3.210881715))
            add(Edge.make_bspline(
                [(8.984164361, 3.210881715), (9.016183287, 3.211265463), (9.077895546, 3.212005085), (9.166996776, 3.21441964), (9.24957988, 3.219911915), (9.325268015, 3.228557765), (9.394878468, 3.237936214), (9.457576171, 3.250547495), (9.513869364, 3.264996456), (9.579143672, 3.287330628), (9.652647181, 3.322027099), (9.731858037, 3.374341325), (9.802284255, 3.436664633), (9.862089514, 3.508795547), (9.911102503, 3.587226874), (9.946757958, 3.670372224), (9.968748815, 3.756857752), (9.971410984, 3.815824464), (9.972746092, 3.84539694)],
                knots=[0, 0, 0, 0, 1.160039823, 2.235823828, 3.228722157, 4.157150951, 4.99529583, 5.772374946, 6.472645482, 7.099169577, 8.269452708, 9.405989375, 10.527446681, 11.663510218, 12.788923519, 13.866172445, 14.929861265, 16, 16, 16, 16], degree=3))
            add(Edge.make_bspline(
                [(9.972746092, 3.84539694), (9.972469988, 3.86389028), (9.971922233, 3.900578662), (9.963661618, 3.954494481), (9.951647748, 4.006720354), (9.936116314, 4.057398095), (9.913496847, 4.105611471), (9.887090302, 4.152314031), (9.8561289, 4.19756751), (9.807884734, 4.254779764), (9.73771275, 4.320696777), (9.638005974, 4.385234279), (9.524633676, 4.437282086), (9.442406184, 4.459381562), (9.399929586, 4.470797581)],
                knots=[0, 0, 0, 0, 0.723448775, 1.435228256, 2.130040452, 2.821711965, 3.505591119, 4.210454504, 4.921174351, 5.648778258, 7.137944449, 8.670945889, 10.280296675, 12, 12, 12, 12], degree=3))
            add(Edge.make_bspline(
                [(9.399929586, 4.470797581), (9.38290049, 4.474252665), (9.345977897, 4.481743999), (9.285770317, 4.489651703), (9.217034448, 4.496696763), (9.139611571, 4.50190792), (9.05340373, 4.507294464), (8.958226811, 4.509389285), (8.854469496, 4.511888545), (8.782477124, 4.512069679), (8.745081829, 4.512163767)],
                knots=[0, 0, 0, 0, 0.634451884, 1.375622551, 2.216452059, 3.157844607, 4.20941857, 5.370758133, 6.634282058, 8, 8, 8, 8], degree=3))
            Line((8.745081829, 4.512163767), (8.536848656, 4.512163767))
        make_face(mode=Mode.SUBTRACT)
    # profile 2 of 2: a face of its own
    with BuildSketch(Plane.XZ.offset(7)):
        with BuildLine():
            Line((11.139412759, 5.274984279), (10.825310195, 5.274984279))
            add(Edge.make_bspline(
                [(10.825310195, 5.274984279), (10.827357348, 5.316655167), (10.831377902, 5.398495682), (10.850206191, 5.517819588), (10.877147068, 5.631874387), (10.915238522, 5.739744301), (10.9625448, 5.842383108), (11.019274827, 5.939383124), (11.086468678, 6.030374312), (11.162675412, 6.114513156), (11.245444051, 6.191700727), (11.33474999, 6.258355969), (11.428595018, 6.314673641), (11.526694417, 6.361754883), (11.63015498, 6.397094728), (11.738037838, 6.423316368), (11.850816974, 6.439092714), (11.927656996, 6.440788499), (11.966736477, 6.441650946)],
                knots=[0, 0, 0, 0, 1.10065271, 2.161652631, 3.183658789, 4.190468796, 5.17591951, 6.163126047, 7.15150782, 8.156236427, 9.156009102, 10.134482811, 11.092018607, 12.041330605, 13.001268258, 13.972401359, 14.968799086, 16, 16, 16, 16], degree=3))
            add(Edge.make_bspline(
                [(11.966736477, 6.441650946), (12.005114551, 6.44075249), (12.080526095, 6.438987055), (12.19058811, 6.423826026), (12.295365404, 6.400080434), (12.394653171, 6.366765018), (12.487659235, 6.32198059), (12.57508228, 6.268183052), (12.657963091, 6.20596322), (12.732569874, 6.132709407), (12.801077954, 6.054507022), (12.860180209, 5.971019119), (12.910793372, 5.884789833), (12.952981052, 5.795161631), (12.984037191, 5.701290603), (13.007615399, 5.6045434), (13.020942813, 5.503918589), (13.022988236, 5.435812033), (13.024028143, 5.401186202)],
                knots=[0, 0, 0, 0, 1.111607364, 2.184268762, 3.212621178, 4.221274766, 5.211760367, 6.196651075, 7.1921475, 8.207485113, 9.220403448, 10.201281604, 11.166441695, 12.114753415, 13.065576456, 14.026450734, 14.996634279, 16, 16, 16, 16], degree=3))
            add(Edge.make_bspline(
                [(13.024028143, 5.401186202), (13.02233488, 5.352438368), (13.018978069, 5.255798154), (12.990263693, 5.113783291), (12.945417181, 4.976189872), (12.891419825, 4.86545257), (12.83694738, 4.776219077), (12.787859873, 4.702750372), (12.730395062, 4.623644903), (12.663716564, 4.539167566), (12.589203692, 4.448656661), (12.506181528, 4.352166865), (12.414058046, 4.250695096), (12.349399546, 4.181389494), (12.31589513, 4.145477068)],
                knots=[0, 0, 0, 0, 1.184426356, 2.348067706, 3.509069118, 4.696110526, 5.333549288, 6.050745305, 6.844228056, 7.710549037, 8.667450064, 9.695053472, 10.805634456, 12, 12, 12, 12], degree=3))
            Line((12.31589513, 4.145477068), (11.440194009, 3.210881715))
            Line((11.440194009, 3.210881715), (13.068899938, 3.210881715))
            Line((13.068899938, 3.210881715), (13.068899938, 2.851907356))
            Line((13.068899938, 2.851907356), (10.69069481, 2.851907356))
            Line((10.69069481, 2.851907356), (12.048066605, 4.300424985))
            add(Edge.make_bspline(
                [(12.048066605, 4.300424985), (12.081114492, 4.334923291), (12.144592719, 4.401187478), (12.234375296, 4.497930438), (12.315014284, 4.587679979), (12.387031677, 4.670266527), (12.448865182, 4.746898095), (12.503737414, 4.815092798), (12.547703005, 4.877847249), (12.595418401, 4.950587863), (12.641632382, 5.03940018), (12.681344738, 5.147933869), (12.705559587, 5.259661122), (12.708464422, 5.335163159), (12.709925579, 5.373141331)],
                knots=[0, 0, 0, 0, 1.329631726, 2.553950428, 3.673215718, 4.687767853, 5.603093632, 6.413772471, 7.123043292, 7.734684054, 8.834405432, 9.900288307, 10.943827018, 12, 12, 12, 12], degree=3))
            add(Edge.make_bspline(
                [(12.709925579, 5.373141331), (12.709289837, 5.397022729), (12.708036911, 5.444088379), (12.696979213, 5.513094138), (12.680268707, 5.579658952), (12.656323449, 5.643987571), (12.624716709, 5.705433223), (12.586243329, 5.764070704), (12.541853266, 5.820759669), (12.490501996, 5.873912967), (12.434090477, 5.922594172), (12.374496227, 5.965718258), (12.311446123, 6.001757369), (12.245206001, 6.031300866), (12.175960531, 6.054476247), (12.103575786, 6.070534826), (12.02825177, 6.08061731), (11.976818274, 6.081981482), (11.950610675, 6.082676587)],
                knots=[0, 0, 0, 0, 0.991446411, 1.95395049, 2.89581595, 3.838931463, 4.798493298, 5.75982156, 6.748411868, 7.785213223, 8.824556874, 9.840280684, 10.836137867, 11.835679398, 12.848801643, 13.863922112, 14.911575587, 16, 16, 16, 16], degree=3))
            add(Edge.make_bspline(
                [(11.950610675, 6.082676587), (11.923239843, 6.081961555), (11.869488046, 6.08055735), (11.790569013, 6.070734686), (11.715283236, 6.053788845), (11.643441333, 6.030612171), (11.574921747, 6.001153622), (11.510057703, 5.964461877), (11.448994814, 5.920678384), (11.39161829, 5.871037828), (11.338754311, 5.815770227), (11.292307436, 5.754160263), (11.251723421, 5.687332848), (11.216314188, 5.615468298), (11.187558498, 5.537914518), (11.165585347, 5.454946813), (11.148198501, 5.366925431), (11.14238998, 5.306140346), (11.139412759, 5.274984279)],
                knots=[0, 0, 0, 0, 1.031018746, 2.02475058, 2.990194455, 3.934040569, 4.864654155, 5.795059489, 6.735614925, 7.690564532, 8.649604399, 9.611025574, 10.590972636, 11.591080095, 12.624614302, 13.701020113, 14.821632451, 16, 16, 16, 16], degree=3))
        make_face()
    extrude(amount=-CUT_EXTRUDE_7_DEPTH, mode=Mode.SUBTRACT)


solid = part.part
